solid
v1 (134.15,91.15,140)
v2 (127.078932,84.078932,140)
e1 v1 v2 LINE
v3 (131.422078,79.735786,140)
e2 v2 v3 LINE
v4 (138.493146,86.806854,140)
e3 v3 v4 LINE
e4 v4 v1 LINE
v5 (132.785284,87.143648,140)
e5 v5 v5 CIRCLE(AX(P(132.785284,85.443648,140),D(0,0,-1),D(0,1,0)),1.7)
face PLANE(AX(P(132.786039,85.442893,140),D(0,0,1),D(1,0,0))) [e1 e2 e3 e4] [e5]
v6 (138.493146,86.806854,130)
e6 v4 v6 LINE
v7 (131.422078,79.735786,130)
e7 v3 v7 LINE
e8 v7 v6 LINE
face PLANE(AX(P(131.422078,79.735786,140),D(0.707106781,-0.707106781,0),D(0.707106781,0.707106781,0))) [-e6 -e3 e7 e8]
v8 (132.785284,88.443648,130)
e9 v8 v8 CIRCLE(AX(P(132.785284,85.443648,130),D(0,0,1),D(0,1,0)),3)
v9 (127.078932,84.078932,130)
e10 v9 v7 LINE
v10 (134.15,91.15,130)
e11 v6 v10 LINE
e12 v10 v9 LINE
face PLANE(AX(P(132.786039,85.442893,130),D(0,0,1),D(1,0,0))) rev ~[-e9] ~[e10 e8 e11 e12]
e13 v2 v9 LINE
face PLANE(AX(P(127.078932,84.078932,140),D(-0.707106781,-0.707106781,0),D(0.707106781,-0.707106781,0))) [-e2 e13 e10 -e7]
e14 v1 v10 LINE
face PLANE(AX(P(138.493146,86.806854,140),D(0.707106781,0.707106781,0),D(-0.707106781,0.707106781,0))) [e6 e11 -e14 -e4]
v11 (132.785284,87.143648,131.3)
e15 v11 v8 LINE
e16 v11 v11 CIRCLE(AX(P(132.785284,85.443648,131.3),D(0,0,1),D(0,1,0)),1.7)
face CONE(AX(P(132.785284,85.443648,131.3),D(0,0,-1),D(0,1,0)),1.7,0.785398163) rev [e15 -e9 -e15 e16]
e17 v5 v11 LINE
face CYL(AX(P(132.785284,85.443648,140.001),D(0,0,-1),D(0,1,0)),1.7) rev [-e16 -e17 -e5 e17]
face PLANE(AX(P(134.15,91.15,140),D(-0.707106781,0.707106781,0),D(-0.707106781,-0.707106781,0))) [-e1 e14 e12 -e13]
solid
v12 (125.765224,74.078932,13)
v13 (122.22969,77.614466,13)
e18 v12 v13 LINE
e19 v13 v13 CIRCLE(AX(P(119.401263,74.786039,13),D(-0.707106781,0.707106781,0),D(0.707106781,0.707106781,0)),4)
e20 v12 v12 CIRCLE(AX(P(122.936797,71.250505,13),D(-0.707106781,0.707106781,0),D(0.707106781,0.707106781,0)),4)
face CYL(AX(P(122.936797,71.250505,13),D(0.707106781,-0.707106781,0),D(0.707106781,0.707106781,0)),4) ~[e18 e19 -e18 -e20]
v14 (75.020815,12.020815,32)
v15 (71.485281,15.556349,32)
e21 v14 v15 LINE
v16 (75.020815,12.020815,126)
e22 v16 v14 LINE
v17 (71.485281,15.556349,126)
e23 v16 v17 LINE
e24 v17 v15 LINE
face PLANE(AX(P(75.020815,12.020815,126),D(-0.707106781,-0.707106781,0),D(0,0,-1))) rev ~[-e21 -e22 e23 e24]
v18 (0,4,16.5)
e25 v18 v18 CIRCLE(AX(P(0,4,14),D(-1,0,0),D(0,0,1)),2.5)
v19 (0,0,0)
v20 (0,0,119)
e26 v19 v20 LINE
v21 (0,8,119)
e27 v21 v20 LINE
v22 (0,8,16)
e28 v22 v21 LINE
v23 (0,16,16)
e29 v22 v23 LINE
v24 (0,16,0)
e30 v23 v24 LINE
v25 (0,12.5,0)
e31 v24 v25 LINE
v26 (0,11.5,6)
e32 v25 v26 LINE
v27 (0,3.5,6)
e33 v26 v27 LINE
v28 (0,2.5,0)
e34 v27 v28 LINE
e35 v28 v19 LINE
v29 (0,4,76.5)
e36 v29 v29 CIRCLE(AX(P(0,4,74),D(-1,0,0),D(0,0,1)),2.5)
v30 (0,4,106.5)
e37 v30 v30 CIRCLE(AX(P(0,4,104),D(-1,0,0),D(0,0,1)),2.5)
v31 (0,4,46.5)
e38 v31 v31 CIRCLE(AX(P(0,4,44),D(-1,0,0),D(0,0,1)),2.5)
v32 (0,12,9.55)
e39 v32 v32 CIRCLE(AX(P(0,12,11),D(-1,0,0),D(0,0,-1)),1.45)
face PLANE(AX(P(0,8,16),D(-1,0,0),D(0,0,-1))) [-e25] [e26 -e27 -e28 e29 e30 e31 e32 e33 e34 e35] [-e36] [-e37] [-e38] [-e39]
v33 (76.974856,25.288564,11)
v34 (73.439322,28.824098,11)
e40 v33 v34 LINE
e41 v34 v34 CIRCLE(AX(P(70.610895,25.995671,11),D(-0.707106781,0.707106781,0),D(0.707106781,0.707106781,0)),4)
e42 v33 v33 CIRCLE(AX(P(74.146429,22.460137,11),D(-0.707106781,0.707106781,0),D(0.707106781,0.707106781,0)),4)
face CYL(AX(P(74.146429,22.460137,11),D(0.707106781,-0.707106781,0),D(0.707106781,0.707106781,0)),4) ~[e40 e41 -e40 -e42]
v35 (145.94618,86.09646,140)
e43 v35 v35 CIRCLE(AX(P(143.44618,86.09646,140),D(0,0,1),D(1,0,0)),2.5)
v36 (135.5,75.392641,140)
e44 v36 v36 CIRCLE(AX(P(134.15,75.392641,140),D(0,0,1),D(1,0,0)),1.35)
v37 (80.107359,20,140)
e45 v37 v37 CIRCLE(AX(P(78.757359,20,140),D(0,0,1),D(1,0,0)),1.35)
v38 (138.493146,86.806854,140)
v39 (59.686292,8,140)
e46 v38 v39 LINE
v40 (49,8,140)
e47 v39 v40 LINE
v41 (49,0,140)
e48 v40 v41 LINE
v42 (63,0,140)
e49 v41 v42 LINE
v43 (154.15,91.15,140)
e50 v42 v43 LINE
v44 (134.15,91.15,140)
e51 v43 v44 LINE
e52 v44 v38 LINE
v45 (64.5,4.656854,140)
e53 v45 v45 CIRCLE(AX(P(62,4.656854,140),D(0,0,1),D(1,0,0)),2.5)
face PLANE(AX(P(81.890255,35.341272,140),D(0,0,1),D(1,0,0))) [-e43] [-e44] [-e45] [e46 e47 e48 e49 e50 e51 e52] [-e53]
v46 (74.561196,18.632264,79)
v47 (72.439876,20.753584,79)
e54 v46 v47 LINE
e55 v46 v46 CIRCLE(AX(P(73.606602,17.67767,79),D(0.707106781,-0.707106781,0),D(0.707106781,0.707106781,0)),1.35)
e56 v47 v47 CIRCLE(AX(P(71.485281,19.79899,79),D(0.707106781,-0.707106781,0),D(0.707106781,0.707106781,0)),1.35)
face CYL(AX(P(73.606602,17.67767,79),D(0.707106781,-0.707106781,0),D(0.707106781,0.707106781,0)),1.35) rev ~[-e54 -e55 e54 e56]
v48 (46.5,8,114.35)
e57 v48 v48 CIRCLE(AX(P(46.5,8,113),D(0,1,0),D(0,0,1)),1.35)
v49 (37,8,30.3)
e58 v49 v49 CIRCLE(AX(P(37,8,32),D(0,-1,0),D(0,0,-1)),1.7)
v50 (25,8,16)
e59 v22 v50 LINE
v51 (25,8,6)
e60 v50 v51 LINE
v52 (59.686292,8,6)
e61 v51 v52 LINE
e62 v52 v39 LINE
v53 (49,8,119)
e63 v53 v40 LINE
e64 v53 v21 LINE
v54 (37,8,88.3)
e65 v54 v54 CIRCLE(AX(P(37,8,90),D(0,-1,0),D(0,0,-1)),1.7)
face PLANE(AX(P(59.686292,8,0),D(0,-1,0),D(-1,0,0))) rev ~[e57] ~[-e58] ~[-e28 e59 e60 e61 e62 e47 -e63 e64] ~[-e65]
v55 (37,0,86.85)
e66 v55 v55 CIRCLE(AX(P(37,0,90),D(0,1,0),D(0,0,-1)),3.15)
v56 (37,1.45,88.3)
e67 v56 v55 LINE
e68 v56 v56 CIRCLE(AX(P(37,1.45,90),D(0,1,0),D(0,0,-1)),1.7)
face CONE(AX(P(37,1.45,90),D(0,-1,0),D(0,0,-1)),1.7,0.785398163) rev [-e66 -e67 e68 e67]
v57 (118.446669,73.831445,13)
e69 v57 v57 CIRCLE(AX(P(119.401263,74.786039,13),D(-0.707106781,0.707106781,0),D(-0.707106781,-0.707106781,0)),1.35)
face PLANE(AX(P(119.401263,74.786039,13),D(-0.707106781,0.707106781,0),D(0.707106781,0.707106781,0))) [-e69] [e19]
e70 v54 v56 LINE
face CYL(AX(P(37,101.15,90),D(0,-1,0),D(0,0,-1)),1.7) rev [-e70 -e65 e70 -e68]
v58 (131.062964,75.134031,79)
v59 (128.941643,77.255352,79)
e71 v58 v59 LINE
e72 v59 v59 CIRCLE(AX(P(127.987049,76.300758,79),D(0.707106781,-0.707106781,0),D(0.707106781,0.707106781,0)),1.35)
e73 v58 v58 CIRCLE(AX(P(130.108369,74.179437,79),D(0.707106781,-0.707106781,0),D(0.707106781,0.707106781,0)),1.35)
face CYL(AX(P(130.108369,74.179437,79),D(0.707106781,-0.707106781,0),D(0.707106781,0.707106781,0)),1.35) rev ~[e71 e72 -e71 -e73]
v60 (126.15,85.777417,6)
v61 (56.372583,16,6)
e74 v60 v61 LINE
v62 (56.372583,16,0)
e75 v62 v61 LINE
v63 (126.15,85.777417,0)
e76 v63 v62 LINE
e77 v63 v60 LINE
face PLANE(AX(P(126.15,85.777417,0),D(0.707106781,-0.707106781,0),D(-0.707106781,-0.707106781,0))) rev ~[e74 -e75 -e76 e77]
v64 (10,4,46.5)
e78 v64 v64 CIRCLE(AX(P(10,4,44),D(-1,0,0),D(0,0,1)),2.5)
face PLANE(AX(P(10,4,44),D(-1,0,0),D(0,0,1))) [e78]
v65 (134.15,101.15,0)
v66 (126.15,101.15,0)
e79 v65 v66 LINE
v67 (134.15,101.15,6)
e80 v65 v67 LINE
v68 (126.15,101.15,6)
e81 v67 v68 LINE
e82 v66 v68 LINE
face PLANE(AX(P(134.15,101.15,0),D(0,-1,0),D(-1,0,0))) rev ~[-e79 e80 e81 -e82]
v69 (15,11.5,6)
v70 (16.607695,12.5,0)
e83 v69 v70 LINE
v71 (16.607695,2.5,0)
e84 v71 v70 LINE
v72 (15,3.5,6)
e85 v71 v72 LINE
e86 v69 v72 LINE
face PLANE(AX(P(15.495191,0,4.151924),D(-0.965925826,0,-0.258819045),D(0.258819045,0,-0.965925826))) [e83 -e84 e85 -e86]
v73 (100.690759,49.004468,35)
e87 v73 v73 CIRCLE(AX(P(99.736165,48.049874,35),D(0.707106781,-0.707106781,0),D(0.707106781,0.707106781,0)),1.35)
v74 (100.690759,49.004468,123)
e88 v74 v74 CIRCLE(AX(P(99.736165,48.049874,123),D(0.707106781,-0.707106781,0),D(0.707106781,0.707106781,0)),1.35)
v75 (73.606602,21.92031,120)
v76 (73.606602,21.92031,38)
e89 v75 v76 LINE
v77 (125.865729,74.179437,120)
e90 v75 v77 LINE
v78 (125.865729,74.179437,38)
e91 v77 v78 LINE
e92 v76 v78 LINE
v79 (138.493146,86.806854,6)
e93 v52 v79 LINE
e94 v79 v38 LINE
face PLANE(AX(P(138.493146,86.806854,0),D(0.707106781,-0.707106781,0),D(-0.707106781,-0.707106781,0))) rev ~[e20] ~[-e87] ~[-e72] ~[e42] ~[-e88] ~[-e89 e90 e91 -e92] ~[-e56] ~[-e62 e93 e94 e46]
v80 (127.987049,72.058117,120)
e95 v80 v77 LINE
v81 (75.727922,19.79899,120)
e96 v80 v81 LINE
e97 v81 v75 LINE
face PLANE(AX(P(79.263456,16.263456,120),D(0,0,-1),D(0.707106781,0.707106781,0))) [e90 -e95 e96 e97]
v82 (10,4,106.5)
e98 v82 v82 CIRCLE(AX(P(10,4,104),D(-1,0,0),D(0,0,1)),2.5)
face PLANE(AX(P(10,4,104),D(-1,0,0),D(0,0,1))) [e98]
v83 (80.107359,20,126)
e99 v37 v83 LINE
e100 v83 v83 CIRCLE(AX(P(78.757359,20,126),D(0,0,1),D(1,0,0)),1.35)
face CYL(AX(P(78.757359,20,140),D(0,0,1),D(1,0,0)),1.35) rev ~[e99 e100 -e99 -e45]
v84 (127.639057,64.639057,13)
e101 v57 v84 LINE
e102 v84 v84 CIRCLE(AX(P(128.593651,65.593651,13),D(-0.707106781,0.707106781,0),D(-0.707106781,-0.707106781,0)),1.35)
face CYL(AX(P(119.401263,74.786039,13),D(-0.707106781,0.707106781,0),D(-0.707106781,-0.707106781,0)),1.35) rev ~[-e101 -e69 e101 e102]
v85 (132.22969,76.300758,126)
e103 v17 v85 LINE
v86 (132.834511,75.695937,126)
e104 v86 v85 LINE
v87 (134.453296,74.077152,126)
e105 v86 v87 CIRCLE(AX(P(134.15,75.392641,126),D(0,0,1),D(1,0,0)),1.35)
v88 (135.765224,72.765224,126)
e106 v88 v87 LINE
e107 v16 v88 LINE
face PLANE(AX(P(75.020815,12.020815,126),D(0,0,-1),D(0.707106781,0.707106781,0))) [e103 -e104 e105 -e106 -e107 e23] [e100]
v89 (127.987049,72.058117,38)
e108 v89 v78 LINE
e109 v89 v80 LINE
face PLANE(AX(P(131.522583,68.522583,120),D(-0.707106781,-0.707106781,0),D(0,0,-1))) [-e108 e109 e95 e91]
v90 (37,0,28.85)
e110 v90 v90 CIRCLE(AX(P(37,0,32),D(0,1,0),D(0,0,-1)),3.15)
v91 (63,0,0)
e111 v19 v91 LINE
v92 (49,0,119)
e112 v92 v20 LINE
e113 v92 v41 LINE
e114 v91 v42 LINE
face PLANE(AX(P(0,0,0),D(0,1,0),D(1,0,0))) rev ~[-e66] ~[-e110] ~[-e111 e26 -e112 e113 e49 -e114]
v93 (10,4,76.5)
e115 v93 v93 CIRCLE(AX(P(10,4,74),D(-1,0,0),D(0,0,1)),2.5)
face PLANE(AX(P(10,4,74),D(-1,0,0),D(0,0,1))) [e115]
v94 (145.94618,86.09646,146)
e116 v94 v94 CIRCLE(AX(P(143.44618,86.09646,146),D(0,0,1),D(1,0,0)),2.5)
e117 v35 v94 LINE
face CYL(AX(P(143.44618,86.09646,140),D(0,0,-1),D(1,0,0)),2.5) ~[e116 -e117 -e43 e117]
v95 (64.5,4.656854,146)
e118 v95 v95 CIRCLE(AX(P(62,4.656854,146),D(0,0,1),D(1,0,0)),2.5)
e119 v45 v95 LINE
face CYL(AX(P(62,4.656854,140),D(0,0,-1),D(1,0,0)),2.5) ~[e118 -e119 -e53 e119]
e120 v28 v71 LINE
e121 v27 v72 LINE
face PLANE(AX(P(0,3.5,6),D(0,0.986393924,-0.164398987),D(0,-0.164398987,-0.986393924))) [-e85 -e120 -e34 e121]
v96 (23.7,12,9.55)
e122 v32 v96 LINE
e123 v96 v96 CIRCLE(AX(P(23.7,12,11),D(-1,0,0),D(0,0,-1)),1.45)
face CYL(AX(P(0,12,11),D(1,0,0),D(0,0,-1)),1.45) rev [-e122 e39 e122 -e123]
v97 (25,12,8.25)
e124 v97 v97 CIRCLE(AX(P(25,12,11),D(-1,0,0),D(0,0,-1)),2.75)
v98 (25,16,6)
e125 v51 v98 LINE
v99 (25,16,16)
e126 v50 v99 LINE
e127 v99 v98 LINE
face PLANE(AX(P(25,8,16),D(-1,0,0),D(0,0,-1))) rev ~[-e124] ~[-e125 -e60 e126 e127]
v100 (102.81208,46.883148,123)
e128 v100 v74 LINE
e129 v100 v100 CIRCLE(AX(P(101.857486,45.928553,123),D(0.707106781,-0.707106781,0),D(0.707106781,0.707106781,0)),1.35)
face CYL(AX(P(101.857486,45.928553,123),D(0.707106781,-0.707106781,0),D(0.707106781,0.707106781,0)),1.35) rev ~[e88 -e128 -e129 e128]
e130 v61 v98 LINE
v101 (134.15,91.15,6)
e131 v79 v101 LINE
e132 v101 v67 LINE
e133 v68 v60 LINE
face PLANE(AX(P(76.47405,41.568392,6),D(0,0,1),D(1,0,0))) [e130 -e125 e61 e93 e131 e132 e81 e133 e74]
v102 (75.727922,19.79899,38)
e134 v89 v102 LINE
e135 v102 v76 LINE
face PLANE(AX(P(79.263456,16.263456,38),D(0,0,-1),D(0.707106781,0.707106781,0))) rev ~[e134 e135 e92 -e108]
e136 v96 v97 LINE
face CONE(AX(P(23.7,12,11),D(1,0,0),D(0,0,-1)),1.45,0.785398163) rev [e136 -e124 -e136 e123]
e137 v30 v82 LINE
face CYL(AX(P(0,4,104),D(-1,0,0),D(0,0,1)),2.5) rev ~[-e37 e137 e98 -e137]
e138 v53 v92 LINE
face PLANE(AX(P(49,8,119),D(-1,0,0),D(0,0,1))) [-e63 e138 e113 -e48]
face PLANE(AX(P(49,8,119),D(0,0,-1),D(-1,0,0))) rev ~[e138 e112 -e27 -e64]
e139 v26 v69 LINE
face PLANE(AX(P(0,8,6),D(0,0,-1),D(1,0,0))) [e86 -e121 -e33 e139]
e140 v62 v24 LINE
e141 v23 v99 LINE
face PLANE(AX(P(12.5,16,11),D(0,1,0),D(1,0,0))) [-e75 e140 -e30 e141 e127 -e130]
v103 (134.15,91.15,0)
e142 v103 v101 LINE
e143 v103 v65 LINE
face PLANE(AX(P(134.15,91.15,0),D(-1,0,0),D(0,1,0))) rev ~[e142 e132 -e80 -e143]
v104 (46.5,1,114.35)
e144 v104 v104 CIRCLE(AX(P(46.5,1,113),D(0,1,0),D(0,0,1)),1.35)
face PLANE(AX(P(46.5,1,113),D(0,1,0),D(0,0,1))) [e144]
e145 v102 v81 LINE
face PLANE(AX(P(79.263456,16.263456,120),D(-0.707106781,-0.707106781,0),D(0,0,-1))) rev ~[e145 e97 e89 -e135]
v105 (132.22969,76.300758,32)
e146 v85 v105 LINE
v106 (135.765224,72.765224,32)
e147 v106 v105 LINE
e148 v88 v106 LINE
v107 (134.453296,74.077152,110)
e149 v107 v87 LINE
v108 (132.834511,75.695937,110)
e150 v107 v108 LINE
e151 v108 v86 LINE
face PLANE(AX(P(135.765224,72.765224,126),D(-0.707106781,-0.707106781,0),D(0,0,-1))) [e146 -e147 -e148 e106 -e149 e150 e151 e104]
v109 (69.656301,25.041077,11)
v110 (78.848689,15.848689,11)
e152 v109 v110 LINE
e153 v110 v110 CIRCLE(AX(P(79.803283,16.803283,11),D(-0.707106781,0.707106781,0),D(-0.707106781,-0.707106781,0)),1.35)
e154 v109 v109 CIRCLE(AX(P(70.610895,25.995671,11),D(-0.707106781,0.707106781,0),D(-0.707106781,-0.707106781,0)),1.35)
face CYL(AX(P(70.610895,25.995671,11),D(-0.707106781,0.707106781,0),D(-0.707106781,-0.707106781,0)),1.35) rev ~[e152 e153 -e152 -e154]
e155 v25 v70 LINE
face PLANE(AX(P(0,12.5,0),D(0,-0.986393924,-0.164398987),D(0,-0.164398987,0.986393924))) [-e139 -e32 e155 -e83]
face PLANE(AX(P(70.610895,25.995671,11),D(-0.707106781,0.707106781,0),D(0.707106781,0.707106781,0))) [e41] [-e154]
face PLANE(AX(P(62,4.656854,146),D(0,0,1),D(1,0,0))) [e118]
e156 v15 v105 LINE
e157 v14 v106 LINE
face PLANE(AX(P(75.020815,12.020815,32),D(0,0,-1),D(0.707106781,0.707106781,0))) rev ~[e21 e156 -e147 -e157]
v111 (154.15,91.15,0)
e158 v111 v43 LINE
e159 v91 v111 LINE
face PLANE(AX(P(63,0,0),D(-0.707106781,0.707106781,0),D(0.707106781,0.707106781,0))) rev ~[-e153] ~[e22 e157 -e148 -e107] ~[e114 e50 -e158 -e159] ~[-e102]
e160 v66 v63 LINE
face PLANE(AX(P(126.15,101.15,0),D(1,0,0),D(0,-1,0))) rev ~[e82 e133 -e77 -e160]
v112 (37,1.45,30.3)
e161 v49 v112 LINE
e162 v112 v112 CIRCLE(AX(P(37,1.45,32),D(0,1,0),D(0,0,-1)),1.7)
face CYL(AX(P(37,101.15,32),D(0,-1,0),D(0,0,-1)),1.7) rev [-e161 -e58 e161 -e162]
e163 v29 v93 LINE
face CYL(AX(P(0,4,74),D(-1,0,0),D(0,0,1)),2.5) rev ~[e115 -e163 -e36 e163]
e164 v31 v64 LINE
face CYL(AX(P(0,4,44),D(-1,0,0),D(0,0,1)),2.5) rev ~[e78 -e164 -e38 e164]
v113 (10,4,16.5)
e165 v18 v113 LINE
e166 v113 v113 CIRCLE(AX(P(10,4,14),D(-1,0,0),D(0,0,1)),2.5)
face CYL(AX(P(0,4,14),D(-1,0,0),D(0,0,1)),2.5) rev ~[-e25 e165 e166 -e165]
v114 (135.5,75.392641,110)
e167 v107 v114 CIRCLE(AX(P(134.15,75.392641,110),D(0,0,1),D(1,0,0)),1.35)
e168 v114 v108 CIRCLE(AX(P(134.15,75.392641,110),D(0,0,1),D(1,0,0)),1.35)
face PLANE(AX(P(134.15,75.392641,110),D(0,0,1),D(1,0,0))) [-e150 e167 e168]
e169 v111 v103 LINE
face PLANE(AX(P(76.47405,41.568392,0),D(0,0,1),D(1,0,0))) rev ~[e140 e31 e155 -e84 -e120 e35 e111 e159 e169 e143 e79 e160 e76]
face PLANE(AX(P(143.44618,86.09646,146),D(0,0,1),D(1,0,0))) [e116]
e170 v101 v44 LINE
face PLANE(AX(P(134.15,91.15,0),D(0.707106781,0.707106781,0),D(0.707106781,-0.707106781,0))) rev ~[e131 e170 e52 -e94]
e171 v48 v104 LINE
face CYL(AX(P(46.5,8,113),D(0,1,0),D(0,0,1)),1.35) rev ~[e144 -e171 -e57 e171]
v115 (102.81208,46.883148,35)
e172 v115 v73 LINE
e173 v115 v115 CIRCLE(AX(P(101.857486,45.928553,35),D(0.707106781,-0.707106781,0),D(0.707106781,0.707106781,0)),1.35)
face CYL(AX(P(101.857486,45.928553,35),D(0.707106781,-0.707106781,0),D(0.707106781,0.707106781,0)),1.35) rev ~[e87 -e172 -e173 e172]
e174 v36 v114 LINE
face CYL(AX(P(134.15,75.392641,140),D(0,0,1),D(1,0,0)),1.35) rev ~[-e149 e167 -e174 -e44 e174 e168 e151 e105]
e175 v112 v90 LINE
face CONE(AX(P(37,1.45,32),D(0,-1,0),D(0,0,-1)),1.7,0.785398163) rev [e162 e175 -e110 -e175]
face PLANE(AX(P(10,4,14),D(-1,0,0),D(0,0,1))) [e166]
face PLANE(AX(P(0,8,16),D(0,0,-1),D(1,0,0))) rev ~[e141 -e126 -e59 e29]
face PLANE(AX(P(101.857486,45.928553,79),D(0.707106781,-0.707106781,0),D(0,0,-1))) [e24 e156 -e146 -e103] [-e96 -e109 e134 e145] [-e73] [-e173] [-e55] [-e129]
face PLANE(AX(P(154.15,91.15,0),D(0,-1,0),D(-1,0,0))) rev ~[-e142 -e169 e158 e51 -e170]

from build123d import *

# Parameters (mm, degrees)
MAIN_EXTRUSION_DEPTH                     = 140
LCD_HOLE_SKETCH_W                        = 49
LCD_HOLE_SKETCH_H                        = 21
LCD_HOLE_DEPTH                           = 225.223426519
LCD_FIX_SKETCH_R                         = 1.35
LCD_FIX_DEPTH                            = 7
BOTTOM_REINFORCEMENT_EXTRUSION_DEPTH     = 6
POWER_BOARD_HOLE_SKETCH_W                = 82
POWER_BOARD_HOLE_SKETCH_H                = 73.90556621
POWER_BOARD_HOLE_DEPTH                   = 271.348052911
POWER_BOARD_WINDOW_SKETCH_W              = 94
POWER_BOARD_WINDOW_SKETCH_H              = 85.90556621
POWER_BOARD_WINDOW_DEPTH                 = 5
POWER_BOARD_WINDOW_FIX_SKETCH_R          = 1.35
POWER_BOARD_WINDOW_FIX_DEPTH             = 229.45860527
POWERBOARD_FIX_SKETCH_R                  = 4
POWERBOARD_FIX_EXTRUSION_DEPTH           = 5
POWERBOARD_FIX_HOLE_SKETCH_R             = 1.35
POWERBOARD_FIX_HOLE_DEPTH                = 229.526141255
TOP_FIX_SKETCH_R                         = 2.5
TOP_FIX_DEPTH                            = 6
TOP_FIX_HOLE_SKETCH_R                    = 1.35
TOP_FIX_HOLE_DEPTH                       = 30
BOSS_EXTRU_2_DEPTH                       = 10
FIX_SKETCH_R                             = 2.5
FIX_HOLE_DEPTH                           = 10
BOTTOM_FIX_EXTRUSION_REACH               = 237.18
BOTTOM_FIX_REINFORCEMENT_SKETCH_W        = 25
BOTTOM_FIX_REINFORCEMENT_SKETCH_H        = 10
BOTTOM_FIX_REINFORCEMENT_EXTRUSION_DEPTH = 8
HDD_FIX_LINEAR_REPEAT_COUNT              = 2
HDD_FIX_LINEAR_REPEAT_PITCH              = 58


with BuildPart() as part:
    # Main-Sketch → Main-Extrusion (new body)
    with BuildSketch(Plane.XY):
        Polygon((0, 0), (63, 0), (154.15, 91.15), (134.15, 91.15), (138.493145751, 86.806854249), (59.686291501, 8), (0, 8), align=None)
    extrude(amount=MAIN_EXTRUSION_DEPTH)

    # Lcd-Hole-Sketch → Lcd-Hole (cut, through all)
    with BuildSketch(Plane(origin=(0, 8, 0), x_dir=(-1, 0, 0), z_dir=(0, 1, 0))):
        with Locations((-24.5, 129.5)):
            Rectangle(LCD_HOLE_SKETCH_W, LCD_HOLE_SKETCH_H)
    extrude(amount=-LCD_HOLE_DEPTH, mode=Mode.SUBTRACT)

    # Lcd-Fix-Sketch → Lcd-Fix (cut)
    with BuildSketch(Plane(origin=(0, 8, 0), x_dir=(1, 0, 0), z_dir=(0, 1, 0))):
        with Locations(Location((46.5, -113, 0), (0, 0, 270))):
            Circle(LCD_FIX_SKETCH_R)
    extrude(amount=-LCD_FIX_DEPTH, mode=Mode.SUBTRACT)

    # Power-Board-Hole-Sketch → Power-Board-Hole (cut, through all)
    with BuildSketch(Plane(origin=(22.424380529, -40.575619471, 188.812816497), x_dir=(0, 0, -1), z_dir=(0.707106781186549, -0.7071067811865461, 0))):
        with Locations((109.812816497, 117.335374462)):
            Rectangle(POWER_BOARD_HOLE_SKETCH_W, POWER_BOARD_HOLE_SKETCH_H)
    extrude(amount=-POWER_BOARD_HOLE_DEPTH, mode=Mode.SUBTRACT)

    # Power-Board-Window-Sketch → Power-Board-Window (cut)
    with BuildSketch(Plane(origin=(22.424380529, -40.575619471, 188.812816497), x_dir=(0, 0, -1), z_dir=(0.707106781186549, -0.7071067811865461, 0))):
        with Locations((109.812816497, 117.335374462)):
            Rectangle(POWER_BOARD_WINDOW_SKETCH_W, POWER_BOARD_WINDOW_SKETCH_H)
    extrude(amount=-POWER_BOARD_WINDOW_DEPTH, mode=Mode.SUBTRACT)

    # Power-Board-Window-Fix-Sketch → Power-Board-Window-Fix (cut, through all)
    with BuildSketch(Plane(origin=(27.964466094, -27.964466094, 0), x_dir=(0, 0, -1), z_dir=(0.7071067811865489, -0.7071067811865461, 0))):
        with Locations(Location((-123, 104.50051032, 0), (0, 0, 90))):
            Circle(POWER_BOARD_WINDOW_FIX_SKETCH_R)
        with Locations(Location((-35, 104.50051032, 0), (0, 0, 90))):
            Circle(POWER_BOARD_WINDOW_FIX_SKETCH_R)
        with Locations(Location((-79, 144.453293425, 0), (0, 0, 90))):
            Circle(POWER_BOARD_WINDOW_FIX_SKETCH_R)
        with Locations(Location((-79, 64.547727215, 0), (0, 0, 90))):
            Circle(POWER_BOARD_WINDOW_FIX_SKETCH_R)
    extrude(amount=-POWER_BOARD_WINDOW_FIX_DEPTH, mode=Mode.SUBTRACT)

    # PowerBoard-Fix-Sketch → PowerBoard-Fix-Extrusion (add)
    with BuildSketch(Plane(origin=(25.843145751, -25.843145751, 0), x_dir=(0, 0, 1), z_dir=(-0.7071067811865487, 0.7071067811865465, 0))):
        with Locations(Location((13, 137.311157801, 0), (0, 0, 90))):
            Circle(POWERBOARD_FIX_SKETCH_R)
        with Locations(Location((11, 68.311157801, 0), (0, 0, 90))):
            Circle(POWERBOARD_FIX_SKETCH_R)
    extrude(amount=POWERBOARD_FIX_EXTRUSION_DEPTH)

    # PowerBoard-Fix-Hole-Sketch → PowerBoard-Fix-Hole (cut, through all)
    with BuildSketch(Plane(origin=(22.307611845, -22.307611845, 0), x_dir=(0, 0, 1), z_dir=(-0.7071067811865486, 0.7071067811865465, 0))):
        with Locations(Location((13, 137.311157801, 0), (0, 0, 270))):
            Circle(POWERBOARD_FIX_HOLE_SKETCH_R)
        with Locations(Location((11, 68.311157801, 0), (0, 0, 270))):
            Circle(POWERBOARD_FIX_HOLE_SKETCH_R)
    extrude(amount=-POWERBOARD_FIX_HOLE_DEPTH, mode=Mode.SUBTRACT)

    # Top-Fix-Sketch → Top-Fix (add)
    with BuildSketch(Plane.XY.offset(140)):
        with Locations((62, 4.656854249)):
            Circle(TOP_FIX_SKETCH_R)
        with Locations((143.446180474, 86.096460213)):
            Circle(TOP_FIX_SKETCH_R)
    extrude(amount=TOP_FIX_DEPTH)

    # Top-Fix-Hole-Sketch → Top-Fix-Hole (cut)
    with BuildSketch(Plane.XY.offset(140)):
        with Locations((78.757359313, 20)):
            Circle(TOP_FIX_HOLE_SKETCH_R)
        with Locations((134.15, 75.392640687)):
            Circle(TOP_FIX_HOLE_SKETCH_R)
    extrude(amount=-TOP_FIX_HOLE_DEPTH, mode=Mode.SUBTRACT)

    # Fix-Sketch → Fix-Hole (cut)
    with BuildSketch(Plane.ZY):
        with Locations((104, 4)):
            Circle(FIX_SKETCH_R)
        with Locations((74, 4)):
            Circle(FIX_SKETCH_R)
        with Locations((44, 4)):
            Circle(FIX_SKETCH_R)
        with Locations((14, 4)):
            Circle(FIX_SKETCH_R)
    extrude(amount=-FIX_HOLE_DEPTH, mode=Mode.SUBTRACT)


with BuildPart() as body_2:
    # Bottom-Reinforcement-Sketch → Bottom-Reinforcement-Extrusion (new body)
    with BuildSketch(Plane.XY):
        Polygon((59.686291501, 8), (138.493145751, 86.806854249), (134.15, 91.15), (134.15, 101.15), (126.15, 101.15), (126.15, 85.777416998), (56.372583002, 16), (0, 16), (0, 8), align=None)
    extrude(amount=BOTTOM_REINFORCEMENT_EXTRUSION_DEPTH)


with BuildPart() as body_3:
    # Esquisse3 → Boss.-Extru.2 (new body)
    with BuildSketch(Plane.XY.offset(140)):
        Polygon((138.493145751, 86.806854249), (134.15, 91.15), (127.078932188, 84.078932188), (131.422077939, 79.735786438), align=None)
    extrude(amount=-BOSS_EXTRU_2_DEPTH)

    # Esquisse4 → Fraisage pour vis à tête fraisée M31 (revolve, cut)
    with BuildSketch(Plane(origin=(132.785283912, 85.443648276, 130), x_dir=(0, 1, 0), z_dir=(1, 0, 0))):
        Polygon((0, 0), (0, 10.001), (1.7, 10.001), (1.7, 1.3), (3, 0), align=None)
    revolve(axis=Axis((132.785283912, 85.443648276, 123.65), (0, 0, 1)), mode=Mode.SUBTRACT)


with BuildPart() as bottom_fix_extrusion_tool:
    # Bottom-Fix-Extrusion: up to this plane
    bottom_fix_extrusion_end = Plane(origin=(15.495190528, 0, 4.151923789), z_dir=(-0.9659258262890681, 0, -0.25881904510252135))
    # Bottom-Fix-Sketch → Bottom-Fix-Extrusion (new, up to the surface)
    with BuildSketch(Plane.ZY, mode=Mode.PRIVATE) as bottom_fix_extrusion_sk1:
        Polygon((0, 12.5), (6, 11.5), (6, 3.5), (0, 2.5), align=None)
    bottom_fix_extrusion_tool1 = split(extrude(bottom_fix_extrusion_sk1.sketch, amount=-BOTTOM_FIX_EXTRUSION_REACH, mode=Mode.PRIVATE), bisect_by=bottom_fix_extrusion_end, keep=Keep.BOTH, mode=Mode.PRIVATE)
    add(bottom_fix_extrusion_tool1.solids().sort_by_distance((0, 7.5, 2.888889))[0])


with BuildPart() as part_1:
    add(part.part)

    # Bottom-Fix-Extrusion: cut by bottom_fix_extrusion_tool
    add(bottom_fix_extrusion_tool.part, mode=Mode.SUBTRACT)



with BuildPart() as body_2_1:
    add(body_2.part)

    # Bottom-Fix-Extrusion: cut by bottom_fix_extrusion_tool
    add(bottom_fix_extrusion_tool.part, mode=Mode.SUBTRACT)


with BuildPart() as part_2:
    add(part_1.part)

    add(body_2_1.part)  # Bottom-Fix-Reinforcement-Extrusion merges body 2
    # Bottom-Fix-Reinforcement-Sketch → Bottom-Fix-Reinforcement-Extrusion (add)
    with BuildSketch(Plane(origin=(0, 8, 0), x_dir=(1, 0, 0), z_dir=(0, 1, 0))):
        with Locations((12.5, -11)):
            Rectangle(BOTTOM_FIX_REINFORCEMENT_SKETCH_W, BOTTOM_FIX_REINFORCEMENT_SKETCH_H)
    extrude(amount=BOTTOM_FIX_REINFORCEMENT_EXTRUSION_DEPTH)

    # Esquisse9 → Fraisage pour vis à tête fraisée M2.51 (revolve, cut)
    with BuildSketch(Plane(origin=(25, 12, 11), x_dir=(0, 0, -1), z_dir=(0, 1, 0))):
        Polygon((0, 0), (0, 25), (1.45, 25), (1.45, 1.3), (2.75, 0), align=None)
    revolve(axis=Axis((31.35, 12, 11), (-1, 0, 0)), mode=Mode.SUBTRACT)

    # Esquisse12 → Fraisage pour vis à tête fraisée M32 (revolve, cut)
    with BuildSketch(Plane(origin=(37, 0, 90), x_dir=(0, 0, -1), z_dir=(1, 0, 0))):
        Polygon((0, 0), (0, 101.15), (1.7, 101.15), (1.7, 1.45), (3.15, 0), align=None)
    fraisage_pour_vis_t_te_frais_e_m32 = revolve(axis=Axis((37, -6.35, 90), (0, 1, 0)), mode=Mode.SUBTRACT)

    # HDD-Fix-Linear-Repeat: Fraisage pour vis à tête fraisée M32 ×2
    with Locations(*[(0, 0, -i * HDD_FIX_LINEAR_REPEAT_PITCH) for i in range(1, HDD_FIX_LINEAR_REPEAT_COUNT)]):
        add(fraisage_pour_vis_t_te_frais_e_m32, mode=Mode.SUBTRACT)


solid = Compound([body_3.part, part_2.part])
